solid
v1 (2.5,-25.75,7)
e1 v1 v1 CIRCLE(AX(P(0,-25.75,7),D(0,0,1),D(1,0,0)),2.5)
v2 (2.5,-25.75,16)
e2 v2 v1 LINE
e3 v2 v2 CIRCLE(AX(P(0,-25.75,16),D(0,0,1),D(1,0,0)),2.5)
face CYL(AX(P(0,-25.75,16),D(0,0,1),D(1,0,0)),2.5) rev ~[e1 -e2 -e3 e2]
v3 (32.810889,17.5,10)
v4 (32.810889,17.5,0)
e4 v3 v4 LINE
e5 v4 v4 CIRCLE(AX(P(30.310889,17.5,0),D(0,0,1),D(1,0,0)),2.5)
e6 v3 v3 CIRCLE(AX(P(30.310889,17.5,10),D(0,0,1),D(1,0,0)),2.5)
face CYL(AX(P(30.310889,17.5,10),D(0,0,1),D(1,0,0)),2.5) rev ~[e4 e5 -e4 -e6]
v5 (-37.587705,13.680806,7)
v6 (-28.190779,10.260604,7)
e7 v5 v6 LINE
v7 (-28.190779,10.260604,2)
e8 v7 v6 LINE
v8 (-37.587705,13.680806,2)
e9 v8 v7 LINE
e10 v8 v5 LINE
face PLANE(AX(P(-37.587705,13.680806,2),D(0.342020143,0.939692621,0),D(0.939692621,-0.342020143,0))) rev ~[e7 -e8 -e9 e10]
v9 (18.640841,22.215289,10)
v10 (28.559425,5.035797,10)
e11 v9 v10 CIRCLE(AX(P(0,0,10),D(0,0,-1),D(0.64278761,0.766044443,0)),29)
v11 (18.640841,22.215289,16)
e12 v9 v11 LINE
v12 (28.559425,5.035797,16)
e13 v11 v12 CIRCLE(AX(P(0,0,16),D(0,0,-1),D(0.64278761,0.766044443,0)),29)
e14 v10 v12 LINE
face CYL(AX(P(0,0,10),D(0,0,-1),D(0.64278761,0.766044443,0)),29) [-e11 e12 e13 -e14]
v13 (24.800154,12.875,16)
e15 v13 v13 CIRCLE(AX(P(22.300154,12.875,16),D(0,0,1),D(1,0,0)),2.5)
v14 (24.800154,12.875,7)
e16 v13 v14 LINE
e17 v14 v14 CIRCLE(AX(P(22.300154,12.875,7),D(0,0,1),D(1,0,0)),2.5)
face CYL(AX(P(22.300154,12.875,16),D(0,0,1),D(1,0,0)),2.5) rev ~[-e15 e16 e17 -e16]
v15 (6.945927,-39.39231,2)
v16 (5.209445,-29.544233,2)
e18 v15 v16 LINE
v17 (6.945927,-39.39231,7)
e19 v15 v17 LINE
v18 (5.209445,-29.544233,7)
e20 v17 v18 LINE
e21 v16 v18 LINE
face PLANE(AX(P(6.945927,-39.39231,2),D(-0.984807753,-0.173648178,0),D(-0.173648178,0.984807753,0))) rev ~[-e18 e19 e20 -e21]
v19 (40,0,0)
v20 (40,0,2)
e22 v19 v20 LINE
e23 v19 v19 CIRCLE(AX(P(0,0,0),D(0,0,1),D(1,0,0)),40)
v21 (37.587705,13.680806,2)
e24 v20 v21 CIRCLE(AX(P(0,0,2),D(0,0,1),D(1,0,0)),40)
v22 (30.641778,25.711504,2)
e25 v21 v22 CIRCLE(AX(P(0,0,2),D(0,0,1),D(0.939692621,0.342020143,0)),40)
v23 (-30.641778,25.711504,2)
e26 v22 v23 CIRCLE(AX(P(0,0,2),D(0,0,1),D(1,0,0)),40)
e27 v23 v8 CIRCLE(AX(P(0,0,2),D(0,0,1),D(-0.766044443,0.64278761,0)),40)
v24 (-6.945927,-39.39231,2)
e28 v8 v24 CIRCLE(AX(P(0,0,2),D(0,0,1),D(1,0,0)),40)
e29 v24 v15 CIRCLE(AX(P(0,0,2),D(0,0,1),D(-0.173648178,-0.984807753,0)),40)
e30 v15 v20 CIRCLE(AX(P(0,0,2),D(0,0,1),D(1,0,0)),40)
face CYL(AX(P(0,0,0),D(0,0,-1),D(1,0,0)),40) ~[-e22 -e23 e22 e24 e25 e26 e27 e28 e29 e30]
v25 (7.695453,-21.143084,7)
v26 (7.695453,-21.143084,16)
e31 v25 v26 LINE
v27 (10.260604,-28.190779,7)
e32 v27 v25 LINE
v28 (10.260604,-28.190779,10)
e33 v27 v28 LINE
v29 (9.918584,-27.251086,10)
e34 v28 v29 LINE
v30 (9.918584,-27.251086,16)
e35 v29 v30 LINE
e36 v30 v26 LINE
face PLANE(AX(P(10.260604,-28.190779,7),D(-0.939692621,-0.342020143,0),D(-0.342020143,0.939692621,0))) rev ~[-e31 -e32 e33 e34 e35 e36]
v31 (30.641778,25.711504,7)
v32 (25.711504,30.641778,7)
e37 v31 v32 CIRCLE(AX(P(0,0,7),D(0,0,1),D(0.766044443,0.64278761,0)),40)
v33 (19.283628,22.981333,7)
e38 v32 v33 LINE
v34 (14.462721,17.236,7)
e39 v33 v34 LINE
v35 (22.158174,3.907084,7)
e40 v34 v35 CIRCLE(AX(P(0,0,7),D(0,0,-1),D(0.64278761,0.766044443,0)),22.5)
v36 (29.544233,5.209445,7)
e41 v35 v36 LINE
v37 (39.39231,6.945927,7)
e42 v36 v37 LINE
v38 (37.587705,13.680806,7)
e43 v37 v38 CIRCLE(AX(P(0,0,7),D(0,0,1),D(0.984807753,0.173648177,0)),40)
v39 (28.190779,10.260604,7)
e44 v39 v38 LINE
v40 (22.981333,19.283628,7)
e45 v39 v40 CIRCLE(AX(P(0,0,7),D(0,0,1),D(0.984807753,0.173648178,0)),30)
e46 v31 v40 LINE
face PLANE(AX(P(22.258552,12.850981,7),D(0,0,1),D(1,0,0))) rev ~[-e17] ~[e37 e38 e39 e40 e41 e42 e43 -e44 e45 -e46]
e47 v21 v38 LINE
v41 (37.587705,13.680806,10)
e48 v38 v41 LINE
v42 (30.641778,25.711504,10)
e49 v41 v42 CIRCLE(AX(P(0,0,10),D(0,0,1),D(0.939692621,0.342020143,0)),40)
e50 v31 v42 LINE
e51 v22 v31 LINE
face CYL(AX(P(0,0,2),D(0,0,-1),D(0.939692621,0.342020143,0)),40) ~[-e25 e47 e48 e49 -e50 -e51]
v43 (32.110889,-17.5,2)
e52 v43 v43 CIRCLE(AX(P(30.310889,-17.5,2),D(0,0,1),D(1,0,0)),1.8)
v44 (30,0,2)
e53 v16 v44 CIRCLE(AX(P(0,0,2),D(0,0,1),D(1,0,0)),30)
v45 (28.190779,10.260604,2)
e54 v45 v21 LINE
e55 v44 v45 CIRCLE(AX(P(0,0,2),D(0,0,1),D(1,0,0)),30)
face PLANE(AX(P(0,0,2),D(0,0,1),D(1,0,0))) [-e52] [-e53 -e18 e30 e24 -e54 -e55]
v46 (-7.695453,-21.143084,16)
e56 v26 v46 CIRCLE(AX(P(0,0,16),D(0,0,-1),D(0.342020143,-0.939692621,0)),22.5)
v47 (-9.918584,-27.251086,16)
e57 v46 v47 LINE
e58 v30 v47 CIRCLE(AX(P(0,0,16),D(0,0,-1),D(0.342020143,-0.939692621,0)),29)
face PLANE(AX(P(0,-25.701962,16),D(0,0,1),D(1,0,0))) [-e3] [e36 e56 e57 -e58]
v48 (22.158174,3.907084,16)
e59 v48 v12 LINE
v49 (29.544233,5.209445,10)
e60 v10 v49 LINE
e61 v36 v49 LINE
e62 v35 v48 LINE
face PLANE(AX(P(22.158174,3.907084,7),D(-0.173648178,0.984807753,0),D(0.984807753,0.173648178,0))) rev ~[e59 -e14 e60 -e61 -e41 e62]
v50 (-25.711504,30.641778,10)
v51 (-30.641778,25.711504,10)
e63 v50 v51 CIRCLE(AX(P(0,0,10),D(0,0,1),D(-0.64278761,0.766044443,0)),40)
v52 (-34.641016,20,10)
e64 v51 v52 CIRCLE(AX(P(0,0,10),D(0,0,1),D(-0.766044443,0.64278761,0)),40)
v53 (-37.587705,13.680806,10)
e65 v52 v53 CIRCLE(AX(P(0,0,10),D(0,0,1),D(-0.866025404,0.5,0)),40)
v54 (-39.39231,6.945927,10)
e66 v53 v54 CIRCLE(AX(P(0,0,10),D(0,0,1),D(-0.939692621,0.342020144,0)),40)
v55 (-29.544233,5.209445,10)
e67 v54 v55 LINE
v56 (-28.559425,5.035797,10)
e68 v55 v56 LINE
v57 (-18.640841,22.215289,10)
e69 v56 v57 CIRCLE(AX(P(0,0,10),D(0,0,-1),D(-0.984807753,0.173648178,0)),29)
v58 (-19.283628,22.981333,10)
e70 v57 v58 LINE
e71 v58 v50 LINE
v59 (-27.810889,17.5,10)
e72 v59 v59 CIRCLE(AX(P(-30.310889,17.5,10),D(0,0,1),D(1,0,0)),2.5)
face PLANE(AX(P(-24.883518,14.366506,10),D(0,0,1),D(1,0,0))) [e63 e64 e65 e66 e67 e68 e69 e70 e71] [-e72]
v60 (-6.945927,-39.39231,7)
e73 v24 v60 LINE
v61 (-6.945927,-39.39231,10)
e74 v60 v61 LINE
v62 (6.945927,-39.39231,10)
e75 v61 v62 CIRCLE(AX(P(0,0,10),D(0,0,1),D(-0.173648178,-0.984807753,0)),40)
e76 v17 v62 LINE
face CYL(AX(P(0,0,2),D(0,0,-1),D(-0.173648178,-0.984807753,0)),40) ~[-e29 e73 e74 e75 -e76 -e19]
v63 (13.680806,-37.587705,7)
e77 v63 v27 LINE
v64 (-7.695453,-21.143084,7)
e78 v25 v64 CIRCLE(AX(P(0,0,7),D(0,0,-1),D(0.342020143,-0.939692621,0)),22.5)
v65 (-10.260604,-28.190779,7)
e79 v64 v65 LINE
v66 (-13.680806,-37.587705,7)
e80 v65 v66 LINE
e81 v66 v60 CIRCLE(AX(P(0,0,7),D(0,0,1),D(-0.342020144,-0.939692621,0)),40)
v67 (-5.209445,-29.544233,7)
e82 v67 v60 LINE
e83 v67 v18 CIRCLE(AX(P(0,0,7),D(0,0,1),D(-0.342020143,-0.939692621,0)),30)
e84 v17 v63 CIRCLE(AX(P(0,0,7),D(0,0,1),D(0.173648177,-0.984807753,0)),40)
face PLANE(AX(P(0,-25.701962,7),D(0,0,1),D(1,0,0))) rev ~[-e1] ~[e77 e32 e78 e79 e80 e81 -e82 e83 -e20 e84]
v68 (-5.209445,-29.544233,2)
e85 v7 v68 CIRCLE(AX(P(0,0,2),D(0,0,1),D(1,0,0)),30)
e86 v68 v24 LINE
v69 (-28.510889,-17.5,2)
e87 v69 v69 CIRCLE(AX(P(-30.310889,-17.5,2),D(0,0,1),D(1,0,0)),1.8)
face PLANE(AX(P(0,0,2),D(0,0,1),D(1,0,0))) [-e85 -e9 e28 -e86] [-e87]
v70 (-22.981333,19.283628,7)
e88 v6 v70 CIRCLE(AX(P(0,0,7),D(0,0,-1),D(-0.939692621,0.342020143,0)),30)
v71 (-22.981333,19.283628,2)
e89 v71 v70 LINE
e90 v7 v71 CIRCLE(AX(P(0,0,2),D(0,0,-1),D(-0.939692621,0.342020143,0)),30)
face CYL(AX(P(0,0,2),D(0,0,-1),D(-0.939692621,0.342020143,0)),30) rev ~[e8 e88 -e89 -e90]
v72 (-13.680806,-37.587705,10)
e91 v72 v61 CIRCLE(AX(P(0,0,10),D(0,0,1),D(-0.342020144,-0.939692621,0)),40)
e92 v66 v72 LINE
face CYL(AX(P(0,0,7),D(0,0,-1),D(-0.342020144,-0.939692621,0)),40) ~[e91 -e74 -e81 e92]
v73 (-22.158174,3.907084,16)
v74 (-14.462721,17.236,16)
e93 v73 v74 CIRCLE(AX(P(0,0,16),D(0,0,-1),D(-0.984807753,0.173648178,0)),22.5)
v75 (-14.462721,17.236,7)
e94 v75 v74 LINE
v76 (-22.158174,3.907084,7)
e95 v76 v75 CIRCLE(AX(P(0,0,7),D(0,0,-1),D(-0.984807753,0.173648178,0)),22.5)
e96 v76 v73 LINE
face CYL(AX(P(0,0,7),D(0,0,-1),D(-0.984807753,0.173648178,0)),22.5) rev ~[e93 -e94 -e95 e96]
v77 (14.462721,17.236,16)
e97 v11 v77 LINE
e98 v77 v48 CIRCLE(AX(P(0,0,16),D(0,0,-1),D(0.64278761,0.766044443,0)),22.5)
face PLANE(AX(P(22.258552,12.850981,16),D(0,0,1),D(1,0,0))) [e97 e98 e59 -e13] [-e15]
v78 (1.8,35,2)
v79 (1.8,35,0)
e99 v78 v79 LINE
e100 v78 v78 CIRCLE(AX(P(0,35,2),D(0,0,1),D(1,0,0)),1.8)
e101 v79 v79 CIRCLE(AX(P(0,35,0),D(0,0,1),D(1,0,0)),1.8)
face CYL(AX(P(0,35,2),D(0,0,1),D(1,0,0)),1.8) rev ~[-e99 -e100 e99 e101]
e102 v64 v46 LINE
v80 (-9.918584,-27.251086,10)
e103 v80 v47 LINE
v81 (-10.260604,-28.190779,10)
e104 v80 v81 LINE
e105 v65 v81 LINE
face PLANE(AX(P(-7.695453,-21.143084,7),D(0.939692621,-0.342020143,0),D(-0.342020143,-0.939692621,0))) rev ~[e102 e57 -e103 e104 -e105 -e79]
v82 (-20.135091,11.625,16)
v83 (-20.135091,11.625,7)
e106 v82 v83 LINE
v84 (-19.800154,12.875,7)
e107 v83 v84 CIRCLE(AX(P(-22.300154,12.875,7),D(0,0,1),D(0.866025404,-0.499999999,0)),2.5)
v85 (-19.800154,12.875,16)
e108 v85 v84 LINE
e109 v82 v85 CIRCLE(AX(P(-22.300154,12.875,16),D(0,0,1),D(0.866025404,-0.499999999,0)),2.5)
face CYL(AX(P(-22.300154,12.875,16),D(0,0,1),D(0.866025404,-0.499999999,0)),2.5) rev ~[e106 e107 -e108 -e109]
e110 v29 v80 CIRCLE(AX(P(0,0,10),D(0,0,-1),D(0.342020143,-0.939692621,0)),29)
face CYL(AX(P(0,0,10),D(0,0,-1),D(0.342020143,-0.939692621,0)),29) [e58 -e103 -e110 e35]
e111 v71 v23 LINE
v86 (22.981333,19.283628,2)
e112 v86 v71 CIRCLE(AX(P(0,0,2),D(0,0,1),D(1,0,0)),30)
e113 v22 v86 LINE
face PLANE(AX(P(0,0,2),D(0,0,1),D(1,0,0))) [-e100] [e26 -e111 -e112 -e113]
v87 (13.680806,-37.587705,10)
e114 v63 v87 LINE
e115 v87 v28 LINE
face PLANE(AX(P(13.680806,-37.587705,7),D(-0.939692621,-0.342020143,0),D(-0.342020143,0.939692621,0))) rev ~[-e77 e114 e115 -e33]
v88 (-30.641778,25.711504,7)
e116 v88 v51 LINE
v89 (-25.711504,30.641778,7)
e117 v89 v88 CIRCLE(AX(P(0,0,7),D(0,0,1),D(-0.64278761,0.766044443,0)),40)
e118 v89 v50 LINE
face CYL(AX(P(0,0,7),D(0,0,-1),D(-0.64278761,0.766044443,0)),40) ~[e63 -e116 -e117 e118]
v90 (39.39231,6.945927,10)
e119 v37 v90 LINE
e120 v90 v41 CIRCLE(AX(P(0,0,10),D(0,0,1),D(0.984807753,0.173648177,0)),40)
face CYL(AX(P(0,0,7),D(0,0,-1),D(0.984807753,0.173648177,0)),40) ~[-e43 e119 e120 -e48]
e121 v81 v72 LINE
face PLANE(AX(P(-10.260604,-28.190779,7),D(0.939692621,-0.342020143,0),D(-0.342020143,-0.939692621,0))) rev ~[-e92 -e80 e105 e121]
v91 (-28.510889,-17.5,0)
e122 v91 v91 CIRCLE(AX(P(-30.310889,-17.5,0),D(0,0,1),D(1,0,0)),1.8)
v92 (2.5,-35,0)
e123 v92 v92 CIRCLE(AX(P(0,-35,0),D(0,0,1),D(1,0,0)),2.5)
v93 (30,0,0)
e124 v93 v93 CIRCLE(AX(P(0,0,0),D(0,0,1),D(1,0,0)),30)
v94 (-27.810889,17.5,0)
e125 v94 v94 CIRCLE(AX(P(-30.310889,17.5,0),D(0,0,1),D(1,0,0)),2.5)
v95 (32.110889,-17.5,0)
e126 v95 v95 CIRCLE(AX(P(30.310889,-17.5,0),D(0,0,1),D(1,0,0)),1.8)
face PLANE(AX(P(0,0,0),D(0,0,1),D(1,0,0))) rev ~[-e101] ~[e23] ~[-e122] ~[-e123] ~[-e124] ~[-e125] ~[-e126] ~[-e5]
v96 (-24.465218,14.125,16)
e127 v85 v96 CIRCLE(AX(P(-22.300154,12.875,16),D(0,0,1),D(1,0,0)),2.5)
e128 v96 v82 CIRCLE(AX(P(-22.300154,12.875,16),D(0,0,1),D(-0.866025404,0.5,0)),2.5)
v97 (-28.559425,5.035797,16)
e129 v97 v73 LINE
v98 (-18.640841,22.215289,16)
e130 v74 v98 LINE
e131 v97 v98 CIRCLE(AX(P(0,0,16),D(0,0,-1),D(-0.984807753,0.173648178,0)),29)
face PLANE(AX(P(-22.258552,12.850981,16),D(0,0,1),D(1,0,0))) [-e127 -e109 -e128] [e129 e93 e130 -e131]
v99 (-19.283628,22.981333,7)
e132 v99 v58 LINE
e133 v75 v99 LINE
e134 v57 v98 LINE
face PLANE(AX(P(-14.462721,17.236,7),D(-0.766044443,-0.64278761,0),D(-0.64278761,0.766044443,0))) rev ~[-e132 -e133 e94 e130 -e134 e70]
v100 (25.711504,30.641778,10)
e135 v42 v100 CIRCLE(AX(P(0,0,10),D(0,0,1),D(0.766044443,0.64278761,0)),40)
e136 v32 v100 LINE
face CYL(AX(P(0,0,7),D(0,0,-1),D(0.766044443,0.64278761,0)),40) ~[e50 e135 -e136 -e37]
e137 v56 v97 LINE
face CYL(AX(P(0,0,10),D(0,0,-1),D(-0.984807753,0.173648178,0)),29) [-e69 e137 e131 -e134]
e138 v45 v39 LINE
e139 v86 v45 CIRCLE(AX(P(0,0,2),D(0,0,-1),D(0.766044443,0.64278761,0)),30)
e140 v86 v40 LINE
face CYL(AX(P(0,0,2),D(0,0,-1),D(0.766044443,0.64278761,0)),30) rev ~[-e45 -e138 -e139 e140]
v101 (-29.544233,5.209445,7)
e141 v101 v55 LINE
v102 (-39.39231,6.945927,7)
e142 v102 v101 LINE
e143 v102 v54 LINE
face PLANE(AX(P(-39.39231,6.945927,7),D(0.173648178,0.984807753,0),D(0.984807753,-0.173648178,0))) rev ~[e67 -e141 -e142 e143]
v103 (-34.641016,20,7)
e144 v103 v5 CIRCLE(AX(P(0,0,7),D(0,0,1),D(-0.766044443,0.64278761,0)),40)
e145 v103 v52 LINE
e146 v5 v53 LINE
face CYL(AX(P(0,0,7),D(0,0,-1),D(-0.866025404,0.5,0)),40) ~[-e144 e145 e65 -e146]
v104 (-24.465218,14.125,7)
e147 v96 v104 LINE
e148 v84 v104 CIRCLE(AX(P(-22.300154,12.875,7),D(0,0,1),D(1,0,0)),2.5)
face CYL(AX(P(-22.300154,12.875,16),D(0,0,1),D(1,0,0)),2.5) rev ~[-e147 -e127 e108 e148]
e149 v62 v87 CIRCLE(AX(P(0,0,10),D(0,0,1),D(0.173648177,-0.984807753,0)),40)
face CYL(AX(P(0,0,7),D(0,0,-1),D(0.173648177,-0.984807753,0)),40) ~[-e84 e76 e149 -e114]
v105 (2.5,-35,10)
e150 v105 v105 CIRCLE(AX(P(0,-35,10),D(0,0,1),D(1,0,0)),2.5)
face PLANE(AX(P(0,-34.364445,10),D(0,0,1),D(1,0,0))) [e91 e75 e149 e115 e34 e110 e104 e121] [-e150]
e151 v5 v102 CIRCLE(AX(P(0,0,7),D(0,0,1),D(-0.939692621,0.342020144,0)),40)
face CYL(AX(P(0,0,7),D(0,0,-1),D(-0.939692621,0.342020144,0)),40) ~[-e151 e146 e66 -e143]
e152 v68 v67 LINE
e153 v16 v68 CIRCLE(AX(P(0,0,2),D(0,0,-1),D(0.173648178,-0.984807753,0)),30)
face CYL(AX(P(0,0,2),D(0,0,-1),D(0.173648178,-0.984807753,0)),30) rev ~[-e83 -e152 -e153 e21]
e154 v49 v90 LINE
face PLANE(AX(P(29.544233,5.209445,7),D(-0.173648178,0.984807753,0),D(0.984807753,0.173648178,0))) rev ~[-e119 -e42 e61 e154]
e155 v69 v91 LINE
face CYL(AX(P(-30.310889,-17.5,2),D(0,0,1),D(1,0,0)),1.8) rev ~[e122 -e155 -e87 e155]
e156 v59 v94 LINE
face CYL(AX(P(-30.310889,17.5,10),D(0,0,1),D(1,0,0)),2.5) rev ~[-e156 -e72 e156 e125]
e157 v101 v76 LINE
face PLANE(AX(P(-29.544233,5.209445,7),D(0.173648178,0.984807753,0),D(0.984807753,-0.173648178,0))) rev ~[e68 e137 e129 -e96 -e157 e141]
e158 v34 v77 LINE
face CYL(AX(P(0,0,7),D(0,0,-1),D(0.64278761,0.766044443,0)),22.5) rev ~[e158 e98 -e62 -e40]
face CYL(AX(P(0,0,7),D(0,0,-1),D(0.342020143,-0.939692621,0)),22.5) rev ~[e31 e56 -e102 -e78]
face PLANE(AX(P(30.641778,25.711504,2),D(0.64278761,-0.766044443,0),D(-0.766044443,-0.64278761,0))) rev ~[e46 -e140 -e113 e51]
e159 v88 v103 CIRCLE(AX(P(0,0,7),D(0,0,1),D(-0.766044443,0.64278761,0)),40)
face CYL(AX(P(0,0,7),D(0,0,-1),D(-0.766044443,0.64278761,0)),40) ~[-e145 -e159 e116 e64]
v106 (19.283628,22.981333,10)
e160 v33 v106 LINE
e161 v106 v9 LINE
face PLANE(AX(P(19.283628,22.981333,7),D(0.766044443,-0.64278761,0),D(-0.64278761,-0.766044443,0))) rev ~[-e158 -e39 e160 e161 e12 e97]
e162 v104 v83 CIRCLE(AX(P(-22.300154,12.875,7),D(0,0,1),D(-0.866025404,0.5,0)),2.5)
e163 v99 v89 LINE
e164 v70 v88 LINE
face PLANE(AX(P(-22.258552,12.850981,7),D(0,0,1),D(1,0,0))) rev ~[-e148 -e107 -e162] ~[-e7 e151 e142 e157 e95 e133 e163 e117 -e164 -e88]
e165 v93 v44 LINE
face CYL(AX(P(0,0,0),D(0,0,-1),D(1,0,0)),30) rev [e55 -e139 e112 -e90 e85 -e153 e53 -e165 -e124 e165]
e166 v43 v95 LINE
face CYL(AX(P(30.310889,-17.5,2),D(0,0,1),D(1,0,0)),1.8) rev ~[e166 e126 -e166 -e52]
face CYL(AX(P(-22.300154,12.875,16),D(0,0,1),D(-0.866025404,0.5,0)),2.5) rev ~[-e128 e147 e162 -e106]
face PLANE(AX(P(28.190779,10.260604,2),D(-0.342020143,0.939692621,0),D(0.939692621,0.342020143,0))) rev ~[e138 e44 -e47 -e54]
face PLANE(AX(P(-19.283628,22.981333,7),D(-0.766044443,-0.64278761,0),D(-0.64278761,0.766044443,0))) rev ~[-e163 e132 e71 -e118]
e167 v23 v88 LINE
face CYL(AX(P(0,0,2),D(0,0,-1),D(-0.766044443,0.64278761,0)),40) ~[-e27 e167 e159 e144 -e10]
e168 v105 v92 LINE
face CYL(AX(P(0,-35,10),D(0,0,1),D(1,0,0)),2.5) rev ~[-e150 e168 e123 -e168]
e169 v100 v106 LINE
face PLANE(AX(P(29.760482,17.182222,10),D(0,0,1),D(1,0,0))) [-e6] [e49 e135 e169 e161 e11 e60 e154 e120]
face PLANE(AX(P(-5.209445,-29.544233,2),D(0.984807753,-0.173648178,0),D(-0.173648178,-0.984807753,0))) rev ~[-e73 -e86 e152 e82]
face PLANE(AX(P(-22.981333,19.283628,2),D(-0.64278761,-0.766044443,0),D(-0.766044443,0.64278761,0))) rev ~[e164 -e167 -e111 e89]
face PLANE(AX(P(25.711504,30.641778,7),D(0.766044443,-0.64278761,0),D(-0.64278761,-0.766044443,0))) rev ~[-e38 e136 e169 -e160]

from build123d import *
from build123d.topology import SkipClean

# Parameters (mm, degrees)
SKETCH_1_R          = 40
SKETCH_1_R_2        = 30
EXTRUDE_1_DEPTH     = 2
CUT_EXTRUDE_1_REACH = 58.604
SKETCH_2_R          = 1.8
EXTRUDE_3_DEPTH     = 5
EXTRUDE_4_DEPTH     = 3
CUT_EXTRUDE_2_REACH = 59.446
SKETCH_5_R          = 2.5
EXTRUDE_START       = -3
EXTRUDE_5_DEPTH     = 9
CUT_EXTRUDE_START   = -6
CUT_EXTRUDE_3_DEPTH = 6
CUT_EXTRUDE_4_REACH = 60.788
SKETCH_8_R          = 2.5


with BuildPart() as part:
    # 草图1 → 凸台-拉伸1 (new body)
    with BuildSketch(Plane.XY):
        Circle(SKETCH_1_R)
        Circle(SKETCH_1_R_2, mode=Mode.SUBTRACT)
    extrude(amount=EXTRUDE_1_DEPTH)

    # 草图2 → 切除-拉伸1 (cut, up to next)
    with BuildSketch(Plane.XY.offset(2), mode=Mode.PRIVATE) as cut_extrude_1_sk1:
        with Locations((0, 35)):
            Circle(SKETCH_2_R)
    cut_extrude_1_tool1 = extrude(cut_extrude_1_sk1.sketch, amount=-CUT_EXTRUDE_1_REACH, mode=Mode.PRIVATE) & part.part
    # 草图2 → 切除-拉伸1 (cut, up to next)
    with BuildSketch(Plane.XY.offset(2), mode=Mode.PRIVATE) as cut_extrude_1_sk2:
        with Locations((30.310889132, -17.5)):
            Circle(SKETCH_2_R)
    cut_extrude_1_tool2 = extrude(cut_extrude_1_sk2.sketch, amount=-CUT_EXTRUDE_1_REACH, mode=Mode.PRIVATE) & part.part
    # 草图2 → 切除-拉伸1 (cut, up to next)
    with BuildSketch(Plane.XY.offset(2), mode=Mode.PRIVATE) as cut_extrude_1_sk3:
        with Locations((-30.310889132, -17.5)):
            Circle(SKETCH_2_R)
    cut_extrude_1_tool3 = extrude(cut_extrude_1_sk3.sketch, amount=-CUT_EXTRUDE_1_REACH, mode=Mode.PRIVATE) & part.part
    add(cut_extrude_1_tool1.solids().sort_by_distance((0, 35, 2))[0], mode=Mode.SUBTRACT)
    add(cut_extrude_1_tool2.solids().sort_by_distance((30.310889, -17.5, 2))[0], mode=Mode.SUBTRACT)
    add(cut_extrude_1_tool3.solids().sort_by_distance((-30.310889, -17.5, 2))[0], mode=Mode.SUBTRACT)

    # 草图3 → 凸台-拉伸3 (add)
    with BuildSketch(Plane.XY.offset(2)):
        with BuildLine():
            Line((30.641777725, 25.711504387), (22.981333294, 19.283628291))
            ThreePointArc((22.981333294, 19.283628291), (25.980762114, 15), (28.190778624, 10.2606043))
            Line((28.190778624, 10.2606043), (37.587704831, 13.680805733))
            ThreePointArc((37.587704831, 13.680805733), (34.641016151, 20), (30.641777725, 25.711504387))
        make_face()
        with BuildLine():
            ThreePointArc((-28.190778624, 10.2606043), (-25.980762114, 15), (-22.981333294, 19.283628291))
            Line((-22.981333294, 19.283628291), (-30.641777725, 25.711504387))
            ThreePointArc((-30.641777725, 25.711504387), (-34.641016151, 20), (-37.587704831, 13.680805733))
            Line((-37.587704831, 13.680805733), (-28.190778624, 10.2606043))
        make_face()
        with BuildLine():
            Line((6.945927107, -39.39231012), (5.20944533, -29.54423259))
            ThreePointArc((5.20944533, -29.54423259), (0, -30), (-5.20944533, -29.54423259))
            Line((-5.20944533, -29.54423259), (-6.945927107, -39.39231012))
            ThreePointArc((-6.945927107, -39.39231012), (0, -40), (6.945927107, -39.39231012))
        make_face()
    extrude(amount=EXTRUDE_3_DEPTH)

    # 草图4 → 凸台-拉伸4 (add)
    with BuildSketch(Plane.XY.offset(7)):
        with BuildLine():
            ThreePointArc((-22.981333294, 19.283628291), (-21.213203436, 21.213203436), (-19.283628291, 22.981333294))
            Line((-19.283628291, 22.981333294), (-25.711504387, 30.641777725))
            ThreePointArc((-25.711504387, 30.641777725), (-28.284271247, 28.284271247), (-30.641777725, 25.711504387))
            Line((-30.641777725, 25.711504387), (-22.981333294, 19.283628291))
        make_face()
        with BuildLine():
            ThreePointArc((-25.980762114, 15), (-24.574561329, 17.207293091), (-22.981333294, 19.283628291))
            Line((-22.981333294, 19.283628291), (-30.641777725, 25.711504387))
            ThreePointArc((-30.641777725, 25.711504387), (-32.766081772, 22.943057454), (-34.641016151, 20))
            Line((-34.641016151, 20), (-25.980762114, 15))
        make_face()
        with BuildLine():
            ThreePointArc((-28.190778624, 10.2606043), (-27.189233611, 12.678547852), (-25.980762114, 15))
            Line((-25.980762114, 15), (-34.641016151, 20))
            ThreePointArc((-34.641016151, 20), (-36.252311481, 16.90473047), (-37.587704831, 13.680805733))
            Line((-37.587704831, 13.680805733), (-28.190778624, 10.2606043))
        make_face()
        with BuildLine():
            ThreePointArc((-29.54423259, 5.20944533), (-28.977774789, 7.764571353), (-28.190778624, 10.2606043))
            Line((-28.190778624, 10.2606043), (-37.587704831, 13.680805733))
            ThreePointArc((-37.587704831, 13.680805733), (-38.637033052, 10.352761804), (-39.39231012, 6.945927107))
            Line((-39.39231012, 6.945927107), (-29.54423259, 5.20944533))
        make_face()
        with BuildLine():
            Line((25.711504387, 30.641777725), (19.283628291, 22.981333294))
            ThreePointArc((19.283628291, 22.981333294), (21.213203436, 21.213203436), (22.981333294, 19.283628291))
            ThreePointArc((22.981333294, 19.283628291), (25.980762114, 15), (28.190778624, 10.2606043))
            ThreePointArc((28.190778624, 10.2606043), (28.977774789, 7.764571353), (29.54423259, 5.20944533))
            Line((29.54423259, 5.20944533), (39.39231012, 6.945927107))
            ThreePointArc((39.39231012, 6.945927107), (38.637033052, 10.352761804), (37.587704831, 13.680805733))
            ThreePointArc((37.587704831, 13.680805733), (34.641016151, 20), (30.641777725, 25.711504387))
            ThreePointArc((30.641777725, 25.711504387), (28.284271247, 28.284271247), (25.711504387, 30.641777725))
        make_face()
        with BuildLine():
            ThreePointArc((-5.20944533, -29.54423259), (-7.764571353, -28.977774789), (-10.2606043, -28.190778624))
            Line((-10.2606043, -28.190778624), (-13.680805733, -37.587704831))
            ThreePointArc((-13.680805733, -37.587704831), (-10.352761804, -38.637033052), (-6.945927107, -39.39231012))
            ThreePointArc((-6.945927107, -39.39231012), (0, -40), (6.945927107, -39.39231012))
            ThreePointArc((6.945927107, -39.39231012), (10.352761804, -38.637033052), (13.680805733, -37.587704831))
            Line((13.680805733, -37.587704831), (10.2606043, -28.190778624))
            ThreePointArc((10.2606043, -28.190778624), (7.764571353, -28.977774789), (5.20944533, -29.54423259))
            ThreePointArc((5.20944533, -29.54423259), (0, -30), (-5.20944533, -29.54423259))
        make_face()
    extrude(amount=EXTRUDE_4_DEPTH)

    # 草图5 → 切除-拉伸2 (cut, up to next)
    with BuildSketch(Plane.XY.offset(10), mode=Mode.PRIVATE) as cut_extrude_2_sk1:
        with Locations((-30.310889132, 17.5)):
            Circle(SKETCH_5_R)
    cut_extrude_2_tool1 = extrude(cut_extrude_2_sk1.sketch, amount=-CUT_EXTRUDE_2_REACH, mode=Mode.PRIVATE) & part.part
    # 草图5 → 切除-拉伸2 (cut, up to next)
    with BuildSketch(Plane.XY.offset(10), mode=Mode.PRIVATE) as cut_extrude_2_sk2:
        with Locations((30.310889132, 17.5)):
            Circle(SKETCH_5_R)
    cut_extrude_2_tool2 = extrude(cut_extrude_2_sk2.sketch, amount=-CUT_EXTRUDE_2_REACH, mode=Mode.PRIVATE) & part.part
    # 草图5 → 切除-拉伸2 (cut, up to next)
    with BuildSketch(Plane.XY.offset(10), mode=Mode.PRIVATE) as cut_extrude_2_sk3:
        with Locations((0, -35)):
            Circle(SKETCH_5_R)
    cut_extrude_2_tool3 = extrude(cut_extrude_2_sk3.sketch, amount=-CUT_EXTRUDE_2_REACH, mode=Mode.PRIVATE) & part.part
    add(cut_extrude_2_tool1.solids().sort_by_distance((-30.310889, 17.5, 10))[0], mode=Mode.SUBTRACT)
    add(cut_extrude_2_tool2.solids().sort_by_distance((30.310889, 17.5, 10))[0], mode=Mode.SUBTRACT)
    add(cut_extrude_2_tool3.solids().sort_by_distance((0, -35, 10))[0], mode=Mode.SUBTRACT)

    # 草图6 → 凸台-拉伸5 (add)
    with SkipClean():  # the faces are left unmerged after this step: merging them gives an invalid solid
        with BuildSketch(Plane.XY.offset(10).offset(EXTRUDE_START)):
            with BuildLine():
                Line((-14.462721218, 17.23599997), (-19.283628291, 22.981333294))
                ThreePointArc((-19.283628291, 22.981333294), (-25.980762114, 15), (-29.54423259, 5.20944533))
                Line((-29.54423259, 5.20944533), (-22.158174443, 3.907083998))
                ThreePointArc((-22.158174443, 3.907083998), (-19.485571585, 11.25), (-14.462721218, 17.23599997))
            make_face()
            with BuildLine():
                Line((22.158174443, 3.907083998), (29.54423259, 5.20944533))
                ThreePointArc((29.54423259, 5.20944533), (25.980762114, 15), (19.283628291, 22.981333294))
                Line((19.283628291, 22.981333294), (14.462721218, 17.23599997))
                ThreePointArc((14.462721218, 17.23599997), (19.485571585, 11.25), (22.158174443, 3.907083998))
            make_face()
            with BuildLine():
                Line((-7.695453225, -21.143083968), (-10.2606043, -28.190778624))
                ThreePointArc((-10.2606043, -28.190778624), (0, -30), (10.2606043, -28.190778624))
                Line((10.2606043, -28.190778624), (7.695453225, -21.143083968))
                ThreePointArc((7.695453225, -21.143083968), (0, -22.5), (-7.695453225, -21.143083968))
            make_face()
        extrude(amount=EXTRUDE_5_DEPTH)

    # 草图7 → 切除-拉伸3 (cut)
    with SkipClean():  # the faces are left unmerged after this step: merging them gives an invalid solid
        with BuildSketch(Plane.XY.offset(16).offset(CUT_EXTRUDE_START)):
            with BuildLine():
                Line((-29.54423259, 5.20944533), (-28.559424837, 5.035797152))
                ThreePointArc((-28.559424837, 5.035797152), (-25.11473671, 14.5), (-18.640840681, 22.21528885))
                Line((-18.640840681, 22.21528885), (-19.283628291, 22.981333294))
                ThreePointArc((-19.283628291, 22.981333294), (-25.980762114, 15), (-29.54423259, 5.20944533))
            make_face()
            with BuildLine():
                ThreePointArc((18.640840681, 22.21528885), (25.11473671, 14.5), (28.559424837, 5.035797152))
                Line((28.559424837, 5.035797152), (29.54423259, 5.20944533))
                ThreePointArc((29.54423259, 5.20944533), (25.980762114, 15), (19.283628291, 22.981333294))
                Line((19.283628291, 22.981333294), (18.640840681, 22.21528885))
            make_face()
            with BuildLine():
                ThreePointArc((-10.2606043, -28.190778624), (0, -30), (10.2606043, -28.190778624))
                Line((10.2606043, -28.190778624), (9.918584156, -27.251086003))
                ThreePointArc((9.918584156, -27.251086003), (0, -29), (-9.918584156, -27.251086003))
                Line((-9.918584156, -27.251086003), (-10.2606043, -28.190778624))
            make_face()
        extrude(amount=CUT_EXTRUDE_3_DEPTH, mode=Mode.SUBTRACT)

    # 草图8 → 切除-拉伸4 (cut, up to next)
    with BuildSketch(Plane.XY.offset(16), mode=Mode.PRIVATE) as cut_extrude_4_sk1:
        with Locations((0, -25.75)):
            Circle(SKETCH_8_R)
    cut_extrude_4_tool1 = extrude(cut_extrude_4_sk1.sketch, amount=-CUT_EXTRUDE_4_REACH, mode=Mode.PRIVATE) & part.part
    # 草图8 → 切除-拉伸4 (cut, up to next)
    with BuildSketch(Plane.XY.offset(16), mode=Mode.PRIVATE) as cut_extrude_4_sk2:
        with Locations((22.300154147, 12.875)):
            Circle(SKETCH_8_R)
    cut_extrude_4_tool2 = extrude(cut_extrude_4_sk2.sketch, amount=-CUT_EXTRUDE_4_REACH, mode=Mode.PRIVATE) & part.part
    # 草图8 → 切除-拉伸4 (cut, up to next)
    with BuildSketch(Plane.XY.offset(16), mode=Mode.PRIVATE) as cut_extrude_4_sk3:
        with BuildLine():
            ThreePointArc((-24.465217657, 14.125), (-23.550154147, 10.709936491), (-20.135090638, 11.625))
            Line((-20.135090638, 11.625), (-24.465217657, 14.125))
        make_face()
    cut_extrude_4_tool3 = extrude(cut_extrude_4_sk3.sketch, amount=-CUT_EXTRUDE_4_REACH, mode=Mode.PRIVATE) & part.part
    # 草图8 → 切除-拉伸4 (cut, up to next)
    with BuildSketch(Plane.XY.offset(16), mode=Mode.PRIVATE) as cut_extrude_4_sk4:
        with BuildLine():
            Line((-24.465217657, 14.125), (-20.135090638, 11.625))
            ThreePointArc((-20.135090638, 11.625), (-19.885339582, 12.227952387), (-19.800154147, 12.875))
            ThreePointArc((-19.800154147, 12.875), (-21.653106535, 15.289814566), (-24.465217657, 14.125))
        make_face()
    cut_extrude_4_tool4 = extrude(cut_extrude_4_sk4.sketch, amount=-CUT_EXTRUDE_4_REACH, mode=Mode.PRIVATE) & part.part
    # 草图8 → 切除-拉伸4 (cut, up to next)
    with BuildSketch(Plane.XY.offset(16), mode=Mode.PRIVATE) as cut_extrude_4_sk5:
        with BuildLine():
            ThreePointArc((-24.465217657, 14.125), (-23.550154147, 10.709936491), (-20.135090638, 11.625))
            Line((-20.135090638, 11.625), (-24.465217657, 14.125))
        make_face()
    cut_extrude_4_tool5 = extrude(cut_extrude_4_sk5.sketch, amount=-CUT_EXTRUDE_4_REACH, mode=Mode.PRIVATE) & part.part
    # 草图8 → 切除-拉伸4 (cut, up to next)
    with BuildSketch(Plane.XY.offset(16), mode=Mode.PRIVATE) as cut_extrude_4_sk6:
        with BuildLine():
            Line((-24.465217657, 14.125), (-20.135090638, 11.625))
            ThreePointArc((-20.135090638, 11.625), (-19.885339582, 12.227952387), (-19.800154147, 12.875))
            ThreePointArc((-19.800154147, 12.875), (-21.653106535, 15.289814566), (-24.465217657, 14.125))
        make_face()
    cut_extrude_4_tool6 = extrude(cut_extrude_4_sk6.sketch, amount=-CUT_EXTRUDE_4_REACH, mode=Mode.PRIVATE) & part.part
    add(cut_extrude_4_tool1.solids().sort_by_distance((0, -25.75, 16))[0], mode=Mode.SUBTRACT)
    add(cut_extrude_4_tool2.solids().sort_by_distance((22.300154, 12.875, 16))[0], mode=Mode.SUBTRACT)
    add(cut_extrude_4_tool3.solids().sort_by_distance((-22.830671, 11.956119, 16))[0], mode=Mode.SUBTRACT)
    add(cut_extrude_4_tool4.solids().sort_by_distance((-21.769638, 13.793881, 16))[0], mode=Mode.SUBTRACT)
    add(cut_extrude_4_tool5.solids().sort_by_distance((-22.830671, 11.956119, 16))[0], mode=Mode.SUBTRACT)
    add(cut_extrude_4_tool6.solids().sort_by_distance((-21.769638, 13.793881, 16))[0], mode=Mode.SUBTRACT)


solid = part.part
